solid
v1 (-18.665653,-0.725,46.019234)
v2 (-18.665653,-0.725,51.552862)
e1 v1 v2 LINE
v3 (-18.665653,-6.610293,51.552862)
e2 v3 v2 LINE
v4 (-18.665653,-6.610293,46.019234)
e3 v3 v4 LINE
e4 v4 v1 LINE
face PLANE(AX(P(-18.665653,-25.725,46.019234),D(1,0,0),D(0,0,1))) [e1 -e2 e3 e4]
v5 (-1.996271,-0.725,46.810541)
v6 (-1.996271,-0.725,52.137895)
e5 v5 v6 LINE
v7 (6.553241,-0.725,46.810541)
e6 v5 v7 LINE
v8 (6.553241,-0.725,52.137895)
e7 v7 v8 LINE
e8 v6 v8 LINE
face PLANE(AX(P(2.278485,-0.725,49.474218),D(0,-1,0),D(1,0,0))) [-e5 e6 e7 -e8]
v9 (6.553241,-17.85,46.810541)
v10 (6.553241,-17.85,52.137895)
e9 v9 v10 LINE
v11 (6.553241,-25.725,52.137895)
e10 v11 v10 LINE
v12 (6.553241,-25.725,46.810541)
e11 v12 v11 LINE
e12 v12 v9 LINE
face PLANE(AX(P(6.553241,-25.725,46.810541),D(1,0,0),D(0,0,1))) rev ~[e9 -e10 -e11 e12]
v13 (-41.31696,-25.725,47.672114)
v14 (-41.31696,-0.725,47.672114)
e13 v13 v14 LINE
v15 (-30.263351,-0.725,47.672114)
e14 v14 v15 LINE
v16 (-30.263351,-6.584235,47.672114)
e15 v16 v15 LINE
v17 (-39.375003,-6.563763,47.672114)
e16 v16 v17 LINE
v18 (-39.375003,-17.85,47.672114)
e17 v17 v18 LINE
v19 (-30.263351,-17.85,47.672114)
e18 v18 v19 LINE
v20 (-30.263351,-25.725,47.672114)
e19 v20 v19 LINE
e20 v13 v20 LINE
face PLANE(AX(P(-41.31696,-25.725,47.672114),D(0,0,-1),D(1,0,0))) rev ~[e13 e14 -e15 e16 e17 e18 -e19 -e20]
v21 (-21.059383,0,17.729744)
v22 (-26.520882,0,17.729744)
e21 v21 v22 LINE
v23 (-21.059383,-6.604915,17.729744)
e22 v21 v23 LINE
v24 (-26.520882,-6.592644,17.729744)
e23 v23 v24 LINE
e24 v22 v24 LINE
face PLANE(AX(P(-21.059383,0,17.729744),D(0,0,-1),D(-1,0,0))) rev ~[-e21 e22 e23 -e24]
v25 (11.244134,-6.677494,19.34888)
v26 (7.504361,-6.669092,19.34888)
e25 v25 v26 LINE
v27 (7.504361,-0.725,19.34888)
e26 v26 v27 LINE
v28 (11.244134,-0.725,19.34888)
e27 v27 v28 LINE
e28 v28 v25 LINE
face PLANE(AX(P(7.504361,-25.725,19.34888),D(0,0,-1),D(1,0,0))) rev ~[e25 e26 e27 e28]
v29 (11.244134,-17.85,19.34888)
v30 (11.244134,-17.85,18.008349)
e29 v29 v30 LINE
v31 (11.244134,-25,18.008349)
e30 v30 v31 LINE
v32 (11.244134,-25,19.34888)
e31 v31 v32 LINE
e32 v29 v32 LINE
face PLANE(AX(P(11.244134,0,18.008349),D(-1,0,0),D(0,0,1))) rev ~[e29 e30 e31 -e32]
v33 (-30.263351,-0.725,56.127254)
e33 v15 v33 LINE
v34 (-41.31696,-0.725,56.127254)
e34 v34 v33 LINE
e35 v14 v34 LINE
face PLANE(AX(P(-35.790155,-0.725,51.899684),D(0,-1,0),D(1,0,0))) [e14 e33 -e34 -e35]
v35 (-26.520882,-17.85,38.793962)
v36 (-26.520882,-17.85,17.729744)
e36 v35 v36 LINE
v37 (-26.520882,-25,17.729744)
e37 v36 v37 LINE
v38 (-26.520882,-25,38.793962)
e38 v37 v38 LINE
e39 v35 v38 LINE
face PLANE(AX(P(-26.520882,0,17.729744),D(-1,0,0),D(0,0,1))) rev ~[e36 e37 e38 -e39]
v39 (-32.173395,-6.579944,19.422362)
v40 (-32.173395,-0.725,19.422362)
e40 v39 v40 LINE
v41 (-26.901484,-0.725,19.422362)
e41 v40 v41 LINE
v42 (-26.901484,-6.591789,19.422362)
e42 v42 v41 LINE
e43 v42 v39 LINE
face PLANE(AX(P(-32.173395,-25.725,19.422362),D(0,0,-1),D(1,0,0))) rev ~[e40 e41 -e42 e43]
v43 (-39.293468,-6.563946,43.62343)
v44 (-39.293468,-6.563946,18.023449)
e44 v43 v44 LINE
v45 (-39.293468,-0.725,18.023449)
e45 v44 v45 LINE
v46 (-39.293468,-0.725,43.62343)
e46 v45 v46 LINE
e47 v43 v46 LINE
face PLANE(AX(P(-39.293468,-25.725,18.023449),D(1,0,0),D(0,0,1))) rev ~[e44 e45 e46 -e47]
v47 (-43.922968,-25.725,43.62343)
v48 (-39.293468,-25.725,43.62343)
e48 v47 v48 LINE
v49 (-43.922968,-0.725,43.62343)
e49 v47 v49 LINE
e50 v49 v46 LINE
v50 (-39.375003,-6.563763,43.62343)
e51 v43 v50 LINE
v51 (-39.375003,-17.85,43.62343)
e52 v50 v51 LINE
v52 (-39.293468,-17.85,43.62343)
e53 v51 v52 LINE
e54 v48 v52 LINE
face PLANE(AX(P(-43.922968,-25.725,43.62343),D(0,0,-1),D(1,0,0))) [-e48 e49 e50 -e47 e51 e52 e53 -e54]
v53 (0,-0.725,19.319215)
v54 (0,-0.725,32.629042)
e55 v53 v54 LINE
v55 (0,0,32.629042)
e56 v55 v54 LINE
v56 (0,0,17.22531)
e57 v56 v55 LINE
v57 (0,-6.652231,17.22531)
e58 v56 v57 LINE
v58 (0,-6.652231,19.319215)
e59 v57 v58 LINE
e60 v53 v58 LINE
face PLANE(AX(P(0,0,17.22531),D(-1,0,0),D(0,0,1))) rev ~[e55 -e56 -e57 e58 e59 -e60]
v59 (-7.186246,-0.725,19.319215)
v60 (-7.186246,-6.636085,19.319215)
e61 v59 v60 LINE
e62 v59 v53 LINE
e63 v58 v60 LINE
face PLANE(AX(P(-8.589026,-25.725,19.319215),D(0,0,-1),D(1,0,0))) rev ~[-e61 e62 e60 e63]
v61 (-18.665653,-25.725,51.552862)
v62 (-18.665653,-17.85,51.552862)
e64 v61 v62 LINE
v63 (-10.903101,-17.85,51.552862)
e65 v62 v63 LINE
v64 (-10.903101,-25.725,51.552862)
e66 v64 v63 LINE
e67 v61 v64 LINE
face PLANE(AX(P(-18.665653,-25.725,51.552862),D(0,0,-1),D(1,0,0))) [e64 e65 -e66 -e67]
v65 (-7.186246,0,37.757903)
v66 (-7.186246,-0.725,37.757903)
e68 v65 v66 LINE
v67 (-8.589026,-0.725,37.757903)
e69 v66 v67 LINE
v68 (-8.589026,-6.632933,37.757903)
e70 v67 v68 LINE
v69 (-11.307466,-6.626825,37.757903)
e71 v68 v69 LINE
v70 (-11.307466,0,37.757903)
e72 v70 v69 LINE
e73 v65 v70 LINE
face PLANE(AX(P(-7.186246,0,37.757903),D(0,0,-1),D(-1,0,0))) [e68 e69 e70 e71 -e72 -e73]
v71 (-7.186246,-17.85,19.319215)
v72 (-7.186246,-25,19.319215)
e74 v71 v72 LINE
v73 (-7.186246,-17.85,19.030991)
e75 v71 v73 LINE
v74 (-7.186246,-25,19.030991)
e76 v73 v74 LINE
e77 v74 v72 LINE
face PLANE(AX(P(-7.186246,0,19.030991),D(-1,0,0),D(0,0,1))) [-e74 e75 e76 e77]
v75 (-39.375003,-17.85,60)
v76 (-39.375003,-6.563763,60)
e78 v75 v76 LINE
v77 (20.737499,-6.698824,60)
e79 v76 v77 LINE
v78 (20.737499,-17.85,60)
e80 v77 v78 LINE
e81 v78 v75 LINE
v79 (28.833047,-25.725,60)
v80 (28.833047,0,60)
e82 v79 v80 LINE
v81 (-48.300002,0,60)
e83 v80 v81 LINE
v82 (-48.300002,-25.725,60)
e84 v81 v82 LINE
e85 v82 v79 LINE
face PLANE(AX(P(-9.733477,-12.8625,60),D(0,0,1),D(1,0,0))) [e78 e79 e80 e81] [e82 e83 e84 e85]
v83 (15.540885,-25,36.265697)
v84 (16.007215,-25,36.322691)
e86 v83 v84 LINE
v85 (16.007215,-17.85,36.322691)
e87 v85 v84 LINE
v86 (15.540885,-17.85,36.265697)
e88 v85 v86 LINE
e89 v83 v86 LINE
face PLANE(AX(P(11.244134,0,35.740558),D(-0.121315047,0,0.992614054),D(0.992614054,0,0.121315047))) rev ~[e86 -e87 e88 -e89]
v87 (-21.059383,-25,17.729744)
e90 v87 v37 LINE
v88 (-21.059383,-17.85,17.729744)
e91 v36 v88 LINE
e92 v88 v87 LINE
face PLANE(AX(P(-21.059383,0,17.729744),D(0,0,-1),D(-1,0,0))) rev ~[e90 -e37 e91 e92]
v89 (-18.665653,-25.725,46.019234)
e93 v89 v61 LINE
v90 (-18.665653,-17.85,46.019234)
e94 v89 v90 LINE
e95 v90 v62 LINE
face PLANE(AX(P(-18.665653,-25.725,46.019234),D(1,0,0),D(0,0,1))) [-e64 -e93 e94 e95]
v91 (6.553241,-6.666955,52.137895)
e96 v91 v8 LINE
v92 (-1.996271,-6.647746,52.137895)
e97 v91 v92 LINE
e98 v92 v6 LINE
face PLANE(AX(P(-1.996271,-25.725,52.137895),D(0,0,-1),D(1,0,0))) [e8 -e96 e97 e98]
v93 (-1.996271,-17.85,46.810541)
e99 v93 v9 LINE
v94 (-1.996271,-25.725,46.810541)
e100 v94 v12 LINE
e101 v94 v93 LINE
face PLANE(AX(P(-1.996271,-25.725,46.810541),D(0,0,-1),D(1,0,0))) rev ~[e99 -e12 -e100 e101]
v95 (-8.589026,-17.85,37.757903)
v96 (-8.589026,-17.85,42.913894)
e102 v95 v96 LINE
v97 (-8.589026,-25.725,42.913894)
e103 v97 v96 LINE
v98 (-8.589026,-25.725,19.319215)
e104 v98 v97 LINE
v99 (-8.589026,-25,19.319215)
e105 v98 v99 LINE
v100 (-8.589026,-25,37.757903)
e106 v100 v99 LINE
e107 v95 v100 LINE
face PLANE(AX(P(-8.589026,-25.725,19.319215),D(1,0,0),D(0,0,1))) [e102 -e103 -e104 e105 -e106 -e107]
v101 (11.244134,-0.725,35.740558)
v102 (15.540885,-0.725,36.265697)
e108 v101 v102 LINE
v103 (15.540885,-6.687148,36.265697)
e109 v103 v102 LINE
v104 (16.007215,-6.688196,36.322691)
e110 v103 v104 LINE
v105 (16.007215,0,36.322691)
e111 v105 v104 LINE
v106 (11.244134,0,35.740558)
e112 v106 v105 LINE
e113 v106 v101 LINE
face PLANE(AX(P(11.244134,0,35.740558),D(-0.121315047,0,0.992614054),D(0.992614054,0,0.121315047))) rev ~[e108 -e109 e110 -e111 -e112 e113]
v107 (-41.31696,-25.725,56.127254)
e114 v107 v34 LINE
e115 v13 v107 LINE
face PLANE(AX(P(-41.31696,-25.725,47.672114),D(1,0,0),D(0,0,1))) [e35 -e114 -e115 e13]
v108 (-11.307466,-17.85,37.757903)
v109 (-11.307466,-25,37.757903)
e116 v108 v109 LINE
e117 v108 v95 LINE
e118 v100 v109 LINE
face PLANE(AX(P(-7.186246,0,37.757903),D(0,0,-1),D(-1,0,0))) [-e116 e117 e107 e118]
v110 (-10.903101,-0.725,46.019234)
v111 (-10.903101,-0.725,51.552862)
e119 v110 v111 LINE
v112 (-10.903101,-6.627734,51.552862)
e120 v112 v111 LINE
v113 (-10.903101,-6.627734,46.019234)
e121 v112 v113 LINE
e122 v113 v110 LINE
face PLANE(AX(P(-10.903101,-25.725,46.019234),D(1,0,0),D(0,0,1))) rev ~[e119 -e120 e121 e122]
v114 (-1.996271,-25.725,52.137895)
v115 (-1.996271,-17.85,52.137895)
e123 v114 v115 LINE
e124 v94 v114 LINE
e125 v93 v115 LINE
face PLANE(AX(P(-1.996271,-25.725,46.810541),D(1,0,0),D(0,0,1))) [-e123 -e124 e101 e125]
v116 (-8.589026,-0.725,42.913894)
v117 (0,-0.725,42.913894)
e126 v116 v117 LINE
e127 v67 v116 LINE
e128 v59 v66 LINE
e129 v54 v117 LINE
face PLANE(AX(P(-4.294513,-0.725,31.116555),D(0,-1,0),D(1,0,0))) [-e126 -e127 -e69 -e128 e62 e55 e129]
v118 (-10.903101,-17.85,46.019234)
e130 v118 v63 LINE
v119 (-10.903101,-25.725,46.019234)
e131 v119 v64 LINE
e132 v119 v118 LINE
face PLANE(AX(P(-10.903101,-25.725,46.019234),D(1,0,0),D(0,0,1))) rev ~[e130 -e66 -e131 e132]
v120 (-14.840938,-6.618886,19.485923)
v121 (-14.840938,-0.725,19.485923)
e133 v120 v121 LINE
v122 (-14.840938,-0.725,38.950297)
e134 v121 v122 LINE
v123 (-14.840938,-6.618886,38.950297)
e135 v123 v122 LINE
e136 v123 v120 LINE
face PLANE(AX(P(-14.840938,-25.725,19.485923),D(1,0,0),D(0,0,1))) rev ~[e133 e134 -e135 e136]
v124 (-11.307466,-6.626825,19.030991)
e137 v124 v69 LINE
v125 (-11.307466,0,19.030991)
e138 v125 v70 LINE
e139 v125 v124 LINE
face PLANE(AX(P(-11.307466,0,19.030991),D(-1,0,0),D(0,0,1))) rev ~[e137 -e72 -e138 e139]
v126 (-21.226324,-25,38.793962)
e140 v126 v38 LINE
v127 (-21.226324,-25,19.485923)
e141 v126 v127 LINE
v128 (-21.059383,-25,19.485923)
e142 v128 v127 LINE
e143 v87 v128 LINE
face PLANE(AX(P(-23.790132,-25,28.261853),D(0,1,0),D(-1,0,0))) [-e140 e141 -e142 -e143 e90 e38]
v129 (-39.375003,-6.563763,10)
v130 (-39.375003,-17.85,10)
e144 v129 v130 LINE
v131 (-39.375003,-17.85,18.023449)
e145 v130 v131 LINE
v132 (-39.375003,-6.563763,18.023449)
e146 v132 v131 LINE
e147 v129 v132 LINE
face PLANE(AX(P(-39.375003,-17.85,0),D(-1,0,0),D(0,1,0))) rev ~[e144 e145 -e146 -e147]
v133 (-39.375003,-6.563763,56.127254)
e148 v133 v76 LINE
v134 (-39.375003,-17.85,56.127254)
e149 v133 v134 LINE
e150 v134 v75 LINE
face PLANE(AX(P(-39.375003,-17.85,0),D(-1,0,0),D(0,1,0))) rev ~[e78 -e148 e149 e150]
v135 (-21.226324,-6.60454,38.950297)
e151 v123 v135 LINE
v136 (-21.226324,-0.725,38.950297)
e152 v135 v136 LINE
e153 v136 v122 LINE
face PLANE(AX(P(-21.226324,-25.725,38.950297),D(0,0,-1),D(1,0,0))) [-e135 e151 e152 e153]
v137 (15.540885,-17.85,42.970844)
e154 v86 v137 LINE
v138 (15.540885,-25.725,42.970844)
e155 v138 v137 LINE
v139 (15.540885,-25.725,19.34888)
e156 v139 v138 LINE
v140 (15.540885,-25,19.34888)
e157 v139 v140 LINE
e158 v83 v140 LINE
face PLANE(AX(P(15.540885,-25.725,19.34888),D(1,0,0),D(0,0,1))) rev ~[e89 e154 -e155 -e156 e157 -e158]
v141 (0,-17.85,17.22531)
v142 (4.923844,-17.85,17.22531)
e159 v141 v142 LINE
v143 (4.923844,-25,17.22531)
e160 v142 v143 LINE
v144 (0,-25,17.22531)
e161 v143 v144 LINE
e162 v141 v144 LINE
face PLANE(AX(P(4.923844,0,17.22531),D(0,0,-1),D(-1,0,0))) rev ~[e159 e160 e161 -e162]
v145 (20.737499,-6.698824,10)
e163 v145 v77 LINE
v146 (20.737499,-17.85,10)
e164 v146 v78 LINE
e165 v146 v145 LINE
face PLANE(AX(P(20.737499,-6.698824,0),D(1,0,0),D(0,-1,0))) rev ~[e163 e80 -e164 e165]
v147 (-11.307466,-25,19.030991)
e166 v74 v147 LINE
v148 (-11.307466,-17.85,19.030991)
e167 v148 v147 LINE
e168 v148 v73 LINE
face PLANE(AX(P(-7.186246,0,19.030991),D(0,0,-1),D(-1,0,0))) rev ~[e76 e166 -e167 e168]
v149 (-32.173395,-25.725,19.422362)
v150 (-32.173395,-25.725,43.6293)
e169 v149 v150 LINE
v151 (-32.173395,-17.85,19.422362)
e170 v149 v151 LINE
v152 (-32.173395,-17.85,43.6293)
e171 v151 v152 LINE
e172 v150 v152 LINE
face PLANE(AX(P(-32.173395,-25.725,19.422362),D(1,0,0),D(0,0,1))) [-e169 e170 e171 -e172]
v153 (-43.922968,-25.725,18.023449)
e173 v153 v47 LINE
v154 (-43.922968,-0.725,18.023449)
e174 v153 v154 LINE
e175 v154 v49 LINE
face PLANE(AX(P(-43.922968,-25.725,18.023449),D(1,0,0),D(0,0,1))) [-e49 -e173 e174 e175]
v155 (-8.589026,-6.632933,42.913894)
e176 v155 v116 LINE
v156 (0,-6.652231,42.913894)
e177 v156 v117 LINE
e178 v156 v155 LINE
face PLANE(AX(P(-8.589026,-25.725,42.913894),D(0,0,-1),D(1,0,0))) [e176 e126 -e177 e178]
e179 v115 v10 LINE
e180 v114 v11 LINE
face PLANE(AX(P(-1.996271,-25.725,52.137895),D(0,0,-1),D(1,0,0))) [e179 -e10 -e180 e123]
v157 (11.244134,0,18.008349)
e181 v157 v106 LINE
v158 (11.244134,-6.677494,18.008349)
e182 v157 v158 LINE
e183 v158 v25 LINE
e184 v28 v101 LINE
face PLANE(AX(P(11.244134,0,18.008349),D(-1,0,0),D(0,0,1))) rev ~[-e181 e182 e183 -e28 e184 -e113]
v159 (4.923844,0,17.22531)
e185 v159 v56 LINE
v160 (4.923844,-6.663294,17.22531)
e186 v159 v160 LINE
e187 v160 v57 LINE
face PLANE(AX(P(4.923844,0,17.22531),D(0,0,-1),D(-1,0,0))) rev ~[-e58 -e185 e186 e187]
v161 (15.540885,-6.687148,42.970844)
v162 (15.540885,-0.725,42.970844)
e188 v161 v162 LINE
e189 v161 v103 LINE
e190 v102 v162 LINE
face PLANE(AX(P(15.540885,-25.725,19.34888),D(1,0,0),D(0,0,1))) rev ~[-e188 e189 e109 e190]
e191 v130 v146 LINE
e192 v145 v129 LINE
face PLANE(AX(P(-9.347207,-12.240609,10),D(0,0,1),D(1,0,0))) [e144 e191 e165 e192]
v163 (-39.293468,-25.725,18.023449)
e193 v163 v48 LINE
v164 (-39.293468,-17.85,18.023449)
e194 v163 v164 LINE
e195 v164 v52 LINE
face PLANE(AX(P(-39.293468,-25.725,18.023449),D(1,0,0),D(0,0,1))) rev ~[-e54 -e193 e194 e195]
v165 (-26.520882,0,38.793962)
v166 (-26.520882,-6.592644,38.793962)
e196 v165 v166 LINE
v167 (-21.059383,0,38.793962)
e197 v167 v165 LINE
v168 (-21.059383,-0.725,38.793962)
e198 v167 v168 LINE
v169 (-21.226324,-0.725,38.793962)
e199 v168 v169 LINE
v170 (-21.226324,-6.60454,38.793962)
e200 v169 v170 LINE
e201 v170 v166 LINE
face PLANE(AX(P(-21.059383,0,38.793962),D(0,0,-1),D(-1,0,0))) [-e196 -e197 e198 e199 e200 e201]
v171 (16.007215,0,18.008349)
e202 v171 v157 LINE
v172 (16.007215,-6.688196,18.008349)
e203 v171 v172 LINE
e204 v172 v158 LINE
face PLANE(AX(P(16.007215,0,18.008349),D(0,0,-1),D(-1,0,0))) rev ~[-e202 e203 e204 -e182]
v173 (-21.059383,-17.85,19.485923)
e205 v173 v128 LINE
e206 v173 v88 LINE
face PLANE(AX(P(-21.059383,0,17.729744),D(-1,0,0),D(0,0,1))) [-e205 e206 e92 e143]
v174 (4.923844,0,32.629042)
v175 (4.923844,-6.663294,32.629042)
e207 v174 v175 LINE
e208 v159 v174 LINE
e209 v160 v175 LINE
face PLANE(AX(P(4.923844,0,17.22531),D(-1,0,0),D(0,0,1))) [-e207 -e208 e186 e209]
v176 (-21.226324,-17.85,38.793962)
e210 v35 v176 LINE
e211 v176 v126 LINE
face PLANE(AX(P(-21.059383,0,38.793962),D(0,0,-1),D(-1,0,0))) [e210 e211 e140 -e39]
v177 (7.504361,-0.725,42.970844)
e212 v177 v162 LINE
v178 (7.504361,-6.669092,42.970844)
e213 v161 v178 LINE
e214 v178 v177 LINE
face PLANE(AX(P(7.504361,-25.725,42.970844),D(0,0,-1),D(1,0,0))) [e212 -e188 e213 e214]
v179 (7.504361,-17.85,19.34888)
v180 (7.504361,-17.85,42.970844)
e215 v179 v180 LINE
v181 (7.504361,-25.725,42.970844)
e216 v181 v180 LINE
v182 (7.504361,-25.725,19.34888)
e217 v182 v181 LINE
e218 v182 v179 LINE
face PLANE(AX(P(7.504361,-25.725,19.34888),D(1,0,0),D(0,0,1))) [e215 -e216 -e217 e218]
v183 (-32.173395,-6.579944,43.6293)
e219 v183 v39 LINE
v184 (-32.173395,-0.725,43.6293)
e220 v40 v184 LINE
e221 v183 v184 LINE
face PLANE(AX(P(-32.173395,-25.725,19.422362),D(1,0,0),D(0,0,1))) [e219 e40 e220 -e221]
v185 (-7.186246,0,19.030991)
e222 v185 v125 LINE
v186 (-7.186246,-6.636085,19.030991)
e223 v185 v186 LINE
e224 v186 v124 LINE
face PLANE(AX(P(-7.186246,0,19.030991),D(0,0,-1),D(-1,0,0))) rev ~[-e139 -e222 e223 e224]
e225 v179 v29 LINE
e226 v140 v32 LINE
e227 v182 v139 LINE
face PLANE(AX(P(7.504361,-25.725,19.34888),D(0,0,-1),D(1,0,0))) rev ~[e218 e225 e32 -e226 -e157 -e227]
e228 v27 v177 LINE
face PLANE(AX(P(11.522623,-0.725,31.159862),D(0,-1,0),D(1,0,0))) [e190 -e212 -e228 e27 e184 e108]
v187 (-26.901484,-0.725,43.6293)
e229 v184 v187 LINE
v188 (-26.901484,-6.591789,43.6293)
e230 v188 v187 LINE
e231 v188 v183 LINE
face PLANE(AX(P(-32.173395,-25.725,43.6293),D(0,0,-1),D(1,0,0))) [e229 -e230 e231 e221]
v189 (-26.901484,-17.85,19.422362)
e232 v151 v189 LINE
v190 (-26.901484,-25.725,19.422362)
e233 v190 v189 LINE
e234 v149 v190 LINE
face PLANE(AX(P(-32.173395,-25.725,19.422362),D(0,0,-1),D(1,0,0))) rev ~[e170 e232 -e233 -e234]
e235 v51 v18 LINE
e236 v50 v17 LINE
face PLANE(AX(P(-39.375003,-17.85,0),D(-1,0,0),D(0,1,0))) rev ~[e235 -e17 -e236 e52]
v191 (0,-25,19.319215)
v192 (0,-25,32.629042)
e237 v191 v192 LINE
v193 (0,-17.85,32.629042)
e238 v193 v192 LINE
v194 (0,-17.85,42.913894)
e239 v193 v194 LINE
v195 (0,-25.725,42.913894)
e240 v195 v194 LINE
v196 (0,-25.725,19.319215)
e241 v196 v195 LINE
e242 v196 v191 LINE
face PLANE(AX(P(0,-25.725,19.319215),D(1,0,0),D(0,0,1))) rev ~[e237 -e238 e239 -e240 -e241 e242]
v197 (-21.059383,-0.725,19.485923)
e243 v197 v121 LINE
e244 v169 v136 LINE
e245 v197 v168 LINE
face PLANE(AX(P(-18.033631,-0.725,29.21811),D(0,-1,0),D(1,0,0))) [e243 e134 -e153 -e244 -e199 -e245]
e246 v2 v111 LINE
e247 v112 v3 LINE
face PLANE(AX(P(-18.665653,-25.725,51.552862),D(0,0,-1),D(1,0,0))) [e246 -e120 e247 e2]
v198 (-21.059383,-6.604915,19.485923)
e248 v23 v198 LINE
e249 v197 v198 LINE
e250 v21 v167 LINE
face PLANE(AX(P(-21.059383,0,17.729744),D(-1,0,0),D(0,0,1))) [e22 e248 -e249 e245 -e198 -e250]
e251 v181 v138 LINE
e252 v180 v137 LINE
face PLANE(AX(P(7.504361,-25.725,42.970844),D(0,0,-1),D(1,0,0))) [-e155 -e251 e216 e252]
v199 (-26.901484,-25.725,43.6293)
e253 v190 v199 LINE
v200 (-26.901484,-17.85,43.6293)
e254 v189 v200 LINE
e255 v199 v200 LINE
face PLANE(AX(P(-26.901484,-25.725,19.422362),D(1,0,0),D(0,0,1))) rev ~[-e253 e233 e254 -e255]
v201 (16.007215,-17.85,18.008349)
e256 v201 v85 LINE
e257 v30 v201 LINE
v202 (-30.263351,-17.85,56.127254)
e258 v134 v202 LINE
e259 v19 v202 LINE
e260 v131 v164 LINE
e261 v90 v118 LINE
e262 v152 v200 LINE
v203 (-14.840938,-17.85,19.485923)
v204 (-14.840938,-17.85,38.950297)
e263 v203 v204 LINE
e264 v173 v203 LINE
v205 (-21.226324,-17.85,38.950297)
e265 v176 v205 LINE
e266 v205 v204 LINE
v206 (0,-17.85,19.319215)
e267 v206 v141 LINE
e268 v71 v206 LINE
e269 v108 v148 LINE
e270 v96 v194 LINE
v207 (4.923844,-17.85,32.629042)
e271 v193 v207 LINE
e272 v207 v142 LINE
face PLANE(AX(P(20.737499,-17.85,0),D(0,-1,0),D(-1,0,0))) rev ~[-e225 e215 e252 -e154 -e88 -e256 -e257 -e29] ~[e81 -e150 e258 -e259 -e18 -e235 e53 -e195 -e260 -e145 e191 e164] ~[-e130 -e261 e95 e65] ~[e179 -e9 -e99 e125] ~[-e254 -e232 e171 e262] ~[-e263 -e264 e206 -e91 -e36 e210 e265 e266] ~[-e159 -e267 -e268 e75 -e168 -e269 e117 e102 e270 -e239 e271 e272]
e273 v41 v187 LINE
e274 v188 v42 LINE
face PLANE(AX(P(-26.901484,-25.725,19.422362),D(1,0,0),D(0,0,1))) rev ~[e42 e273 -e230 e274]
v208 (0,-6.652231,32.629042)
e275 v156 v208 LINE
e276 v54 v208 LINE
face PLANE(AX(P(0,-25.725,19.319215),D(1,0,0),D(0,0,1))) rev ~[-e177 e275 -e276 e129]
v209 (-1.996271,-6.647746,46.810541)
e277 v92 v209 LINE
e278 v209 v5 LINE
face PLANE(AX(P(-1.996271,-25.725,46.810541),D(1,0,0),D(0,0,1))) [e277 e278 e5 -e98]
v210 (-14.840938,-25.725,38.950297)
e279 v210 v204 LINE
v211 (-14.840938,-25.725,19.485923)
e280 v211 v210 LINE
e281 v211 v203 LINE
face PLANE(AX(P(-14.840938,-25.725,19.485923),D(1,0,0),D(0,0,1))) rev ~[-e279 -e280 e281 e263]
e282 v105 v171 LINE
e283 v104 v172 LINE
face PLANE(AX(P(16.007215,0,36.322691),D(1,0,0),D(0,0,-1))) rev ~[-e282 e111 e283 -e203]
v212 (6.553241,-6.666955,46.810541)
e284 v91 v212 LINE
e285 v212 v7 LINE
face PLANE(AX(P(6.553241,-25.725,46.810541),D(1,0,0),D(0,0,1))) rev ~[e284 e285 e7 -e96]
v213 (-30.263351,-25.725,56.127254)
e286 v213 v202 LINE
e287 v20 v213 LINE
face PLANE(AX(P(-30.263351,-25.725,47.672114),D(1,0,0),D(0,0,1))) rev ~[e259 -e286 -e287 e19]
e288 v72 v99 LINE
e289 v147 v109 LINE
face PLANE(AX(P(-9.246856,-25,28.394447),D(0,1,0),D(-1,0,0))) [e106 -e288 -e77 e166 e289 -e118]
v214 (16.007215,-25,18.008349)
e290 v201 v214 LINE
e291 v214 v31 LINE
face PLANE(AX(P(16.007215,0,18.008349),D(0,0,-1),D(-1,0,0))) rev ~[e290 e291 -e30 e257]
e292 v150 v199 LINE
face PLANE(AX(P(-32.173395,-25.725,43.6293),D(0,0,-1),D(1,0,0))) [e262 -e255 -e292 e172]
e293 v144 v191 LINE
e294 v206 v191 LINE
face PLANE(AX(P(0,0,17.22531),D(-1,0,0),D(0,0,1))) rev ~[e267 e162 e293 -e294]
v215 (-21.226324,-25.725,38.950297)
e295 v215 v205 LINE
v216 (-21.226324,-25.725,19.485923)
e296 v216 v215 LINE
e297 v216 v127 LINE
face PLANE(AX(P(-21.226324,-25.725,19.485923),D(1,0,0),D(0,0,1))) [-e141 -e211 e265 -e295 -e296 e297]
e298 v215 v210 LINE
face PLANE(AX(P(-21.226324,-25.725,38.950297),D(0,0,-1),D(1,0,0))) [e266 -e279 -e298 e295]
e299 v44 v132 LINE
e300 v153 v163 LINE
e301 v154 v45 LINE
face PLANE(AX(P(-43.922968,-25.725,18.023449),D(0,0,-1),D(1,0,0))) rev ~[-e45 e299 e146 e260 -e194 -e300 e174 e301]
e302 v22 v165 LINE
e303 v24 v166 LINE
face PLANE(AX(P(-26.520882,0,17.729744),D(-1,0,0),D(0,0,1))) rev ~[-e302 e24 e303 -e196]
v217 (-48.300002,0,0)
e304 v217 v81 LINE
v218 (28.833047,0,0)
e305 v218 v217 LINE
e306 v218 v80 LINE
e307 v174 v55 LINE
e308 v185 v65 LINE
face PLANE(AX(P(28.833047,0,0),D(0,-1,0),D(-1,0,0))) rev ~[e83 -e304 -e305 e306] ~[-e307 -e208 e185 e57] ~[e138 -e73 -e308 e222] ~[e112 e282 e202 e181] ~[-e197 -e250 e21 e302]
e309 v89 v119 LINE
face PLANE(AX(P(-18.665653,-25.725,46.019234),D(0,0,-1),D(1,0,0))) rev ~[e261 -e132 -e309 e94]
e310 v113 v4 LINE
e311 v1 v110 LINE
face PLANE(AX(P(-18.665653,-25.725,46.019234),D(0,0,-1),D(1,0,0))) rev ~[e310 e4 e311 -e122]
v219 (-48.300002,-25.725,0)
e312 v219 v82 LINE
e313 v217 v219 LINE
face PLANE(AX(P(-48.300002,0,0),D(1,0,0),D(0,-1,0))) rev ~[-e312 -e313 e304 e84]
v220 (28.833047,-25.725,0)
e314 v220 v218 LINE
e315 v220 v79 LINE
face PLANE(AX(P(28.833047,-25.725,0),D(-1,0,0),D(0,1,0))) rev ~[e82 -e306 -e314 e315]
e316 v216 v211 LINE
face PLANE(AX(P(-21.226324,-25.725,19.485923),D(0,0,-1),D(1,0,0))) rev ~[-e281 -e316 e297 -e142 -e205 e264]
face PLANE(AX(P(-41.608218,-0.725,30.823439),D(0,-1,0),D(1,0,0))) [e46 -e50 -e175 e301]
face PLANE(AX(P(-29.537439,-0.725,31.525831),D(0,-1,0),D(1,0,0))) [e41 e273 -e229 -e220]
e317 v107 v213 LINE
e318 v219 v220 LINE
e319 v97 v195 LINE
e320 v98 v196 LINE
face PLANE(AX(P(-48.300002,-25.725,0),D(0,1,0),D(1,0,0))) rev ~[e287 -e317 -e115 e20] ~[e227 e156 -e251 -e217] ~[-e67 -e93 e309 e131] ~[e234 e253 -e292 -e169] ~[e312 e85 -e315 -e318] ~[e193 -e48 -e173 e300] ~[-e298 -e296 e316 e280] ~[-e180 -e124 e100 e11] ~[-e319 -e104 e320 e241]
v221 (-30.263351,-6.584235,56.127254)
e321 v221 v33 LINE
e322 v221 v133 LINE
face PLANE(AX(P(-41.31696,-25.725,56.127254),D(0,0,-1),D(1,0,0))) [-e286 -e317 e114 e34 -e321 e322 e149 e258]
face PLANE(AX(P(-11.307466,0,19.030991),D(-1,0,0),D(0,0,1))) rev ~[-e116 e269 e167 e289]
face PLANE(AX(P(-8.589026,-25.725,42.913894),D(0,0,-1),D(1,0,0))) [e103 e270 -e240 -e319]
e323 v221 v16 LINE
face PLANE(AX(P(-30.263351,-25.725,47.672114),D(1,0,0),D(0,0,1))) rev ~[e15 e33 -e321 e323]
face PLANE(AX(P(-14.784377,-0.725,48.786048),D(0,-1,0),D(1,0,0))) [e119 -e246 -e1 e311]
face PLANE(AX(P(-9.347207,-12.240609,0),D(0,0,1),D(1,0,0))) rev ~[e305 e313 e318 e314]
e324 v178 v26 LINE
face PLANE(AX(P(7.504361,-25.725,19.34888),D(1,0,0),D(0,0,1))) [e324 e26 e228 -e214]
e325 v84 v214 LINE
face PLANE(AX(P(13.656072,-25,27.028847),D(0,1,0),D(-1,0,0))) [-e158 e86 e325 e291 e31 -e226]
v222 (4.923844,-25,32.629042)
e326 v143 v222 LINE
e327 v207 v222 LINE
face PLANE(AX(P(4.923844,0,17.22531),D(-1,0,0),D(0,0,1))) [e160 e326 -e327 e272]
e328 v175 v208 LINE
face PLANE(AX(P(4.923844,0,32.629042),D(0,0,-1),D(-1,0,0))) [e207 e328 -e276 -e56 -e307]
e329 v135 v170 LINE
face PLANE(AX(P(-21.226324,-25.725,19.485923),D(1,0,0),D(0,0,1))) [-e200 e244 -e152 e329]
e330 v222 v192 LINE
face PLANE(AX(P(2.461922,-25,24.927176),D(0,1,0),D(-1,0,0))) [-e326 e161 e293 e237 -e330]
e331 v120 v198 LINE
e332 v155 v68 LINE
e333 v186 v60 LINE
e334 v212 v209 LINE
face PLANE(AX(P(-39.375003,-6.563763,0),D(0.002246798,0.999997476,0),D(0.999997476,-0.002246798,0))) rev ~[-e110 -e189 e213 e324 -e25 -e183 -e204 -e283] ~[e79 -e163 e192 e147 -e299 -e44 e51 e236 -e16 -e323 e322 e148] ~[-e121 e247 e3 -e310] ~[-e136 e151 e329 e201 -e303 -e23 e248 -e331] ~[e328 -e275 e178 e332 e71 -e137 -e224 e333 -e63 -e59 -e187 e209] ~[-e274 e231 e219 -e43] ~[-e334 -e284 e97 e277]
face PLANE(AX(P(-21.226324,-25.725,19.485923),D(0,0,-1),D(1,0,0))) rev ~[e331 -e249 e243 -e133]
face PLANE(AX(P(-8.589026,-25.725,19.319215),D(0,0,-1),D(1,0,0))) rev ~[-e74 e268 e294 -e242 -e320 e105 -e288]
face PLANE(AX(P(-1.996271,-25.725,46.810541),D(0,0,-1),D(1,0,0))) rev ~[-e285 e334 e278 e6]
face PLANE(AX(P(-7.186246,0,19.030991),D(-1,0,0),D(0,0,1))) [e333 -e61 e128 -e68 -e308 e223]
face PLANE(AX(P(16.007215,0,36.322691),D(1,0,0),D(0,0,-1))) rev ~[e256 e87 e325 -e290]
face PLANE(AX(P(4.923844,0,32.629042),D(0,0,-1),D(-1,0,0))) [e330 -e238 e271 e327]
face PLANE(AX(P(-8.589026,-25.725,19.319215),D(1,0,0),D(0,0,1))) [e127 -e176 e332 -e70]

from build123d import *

# Parameters (mm, degrees)
F1_DEPTH = 60
F3_DEPTH = 10
F5_DEPTH = 25
F6_W     = 4.12122
F6_H     = 18.726911
F6_W_2   = 5.461499
F6_H_2   = 21.064218
F6_W_3   = 4.923844
F6_H_3   = 15.403733
F7_DEPTH = 25
F8_W     = 5.271911
F8_H     = 24.206938
F8_W_2   = 6.385386
F8_H_2   = 19.464375
F8_W_3   = 8.589027
F8_H_3   = 23.594679
F8_W_4   = 8.036524
F8_H_4   = 23.621964
F8_W_5   = 4.6295
F8_H_5   = 25.599981
F8_W_6   = 7.762552
F8_H_6   = 5.533628
F8_W_7   = 8.549511
F8_H_7   = 5.327355
F8_W_8   = 11.053609
F8_H_8   = 8.455139
F9_DEPTH = 25


with BuildPart() as f1:
    # F0 (on Top) → F1 (new body)
    with BuildSketch(Plane.XY):
        Polygon((-48.300002, -6.563763), (-48.300002, -17.85), (-48.300002, -25.725), (28.833047, -25.725), (28.833047, 0), (-48.300002, 0), align=None)
        Polygon((20.737499, -17.85), (-39.375003, -17.85), (-39.375003, -6.563763), (20.737499, -6.698824), align=None, mode=Mode.SUBTRACT)
    extrude(amount=F1_DEPTH)

    # F2 (on face) → F3 (join)
    with BuildSketch(Plane.XY):
        Polygon((-39.375003, -17.85), (20.737499, -17.85), (20.737499, -6.698824), (-39.375003, -6.563763), align=None)
    extrude(amount=F3_DEPTH)

    # F4 (on face) → F5 (cut)
    with BuildSketch(Plane(origin=(0, 0, 0), x_dir=(-1, 0, 0), z_dir=(0, 1, 0))):
        Polygon((-11.244134, 35.740558), (-16.007215, 36.322691), (-16.007215, 18.008349), (-11.244134, 18.008349), align=None)
    extrude(amount=-F5_DEPTH, mode=Mode.SUBTRACT)

    # F6 (on face) → F7 (cut)
    with BuildSketch(Plane(origin=(0, 0, 0), x_dir=(-1, 0, 0), z_dir=(0, 1, 0))):
        with Locations((9.246856, 28.394447)):
            Rectangle(F6_W, F6_H)
        with Locations((23.790132, 28.261853)):
            Rectangle(F6_W_2, F6_H_2)
        with Locations((-2.461922, 24.927176)):
            Rectangle(F6_W_3, F6_H_3)
    extrude(amount=-F7_DEPTH, mode=Mode.SUBTRACT)

    # F8 (on face) → F9 (cut)
    with BuildSketch(Plane.XZ.offset(25.725)):
        with Locations((-29.537439, 31.525831)):
            Rectangle(F8_W, F8_H)
        with Locations((-18.033631, 29.21811)):
            Rectangle(F8_W_2, F8_H_2)
        with Locations((-4.294513, 31.116555)):
            Rectangle(F8_W_3, F8_H_3)
        with Locations((11.522623, 31.159862)):
            Rectangle(F8_W_4, F8_H_4)
        with Locations((-41.608218, 30.823439)):
            Rectangle(F8_W_5, F8_H_5)
        with Locations((-14.784377, 48.786048)):
            Rectangle(F8_W_6, F8_H_6)
        with Locations((2.278485, 49.474218)):
            Rectangle(F8_W_7, F8_H_7)
        with Locations((-35.790155, 51.899684)):
            Rectangle(F8_W_8, F8_H_8)
    extrude(amount=-F9_DEPTH, mode=Mode.SUBTRACT)


solid = f1.part
